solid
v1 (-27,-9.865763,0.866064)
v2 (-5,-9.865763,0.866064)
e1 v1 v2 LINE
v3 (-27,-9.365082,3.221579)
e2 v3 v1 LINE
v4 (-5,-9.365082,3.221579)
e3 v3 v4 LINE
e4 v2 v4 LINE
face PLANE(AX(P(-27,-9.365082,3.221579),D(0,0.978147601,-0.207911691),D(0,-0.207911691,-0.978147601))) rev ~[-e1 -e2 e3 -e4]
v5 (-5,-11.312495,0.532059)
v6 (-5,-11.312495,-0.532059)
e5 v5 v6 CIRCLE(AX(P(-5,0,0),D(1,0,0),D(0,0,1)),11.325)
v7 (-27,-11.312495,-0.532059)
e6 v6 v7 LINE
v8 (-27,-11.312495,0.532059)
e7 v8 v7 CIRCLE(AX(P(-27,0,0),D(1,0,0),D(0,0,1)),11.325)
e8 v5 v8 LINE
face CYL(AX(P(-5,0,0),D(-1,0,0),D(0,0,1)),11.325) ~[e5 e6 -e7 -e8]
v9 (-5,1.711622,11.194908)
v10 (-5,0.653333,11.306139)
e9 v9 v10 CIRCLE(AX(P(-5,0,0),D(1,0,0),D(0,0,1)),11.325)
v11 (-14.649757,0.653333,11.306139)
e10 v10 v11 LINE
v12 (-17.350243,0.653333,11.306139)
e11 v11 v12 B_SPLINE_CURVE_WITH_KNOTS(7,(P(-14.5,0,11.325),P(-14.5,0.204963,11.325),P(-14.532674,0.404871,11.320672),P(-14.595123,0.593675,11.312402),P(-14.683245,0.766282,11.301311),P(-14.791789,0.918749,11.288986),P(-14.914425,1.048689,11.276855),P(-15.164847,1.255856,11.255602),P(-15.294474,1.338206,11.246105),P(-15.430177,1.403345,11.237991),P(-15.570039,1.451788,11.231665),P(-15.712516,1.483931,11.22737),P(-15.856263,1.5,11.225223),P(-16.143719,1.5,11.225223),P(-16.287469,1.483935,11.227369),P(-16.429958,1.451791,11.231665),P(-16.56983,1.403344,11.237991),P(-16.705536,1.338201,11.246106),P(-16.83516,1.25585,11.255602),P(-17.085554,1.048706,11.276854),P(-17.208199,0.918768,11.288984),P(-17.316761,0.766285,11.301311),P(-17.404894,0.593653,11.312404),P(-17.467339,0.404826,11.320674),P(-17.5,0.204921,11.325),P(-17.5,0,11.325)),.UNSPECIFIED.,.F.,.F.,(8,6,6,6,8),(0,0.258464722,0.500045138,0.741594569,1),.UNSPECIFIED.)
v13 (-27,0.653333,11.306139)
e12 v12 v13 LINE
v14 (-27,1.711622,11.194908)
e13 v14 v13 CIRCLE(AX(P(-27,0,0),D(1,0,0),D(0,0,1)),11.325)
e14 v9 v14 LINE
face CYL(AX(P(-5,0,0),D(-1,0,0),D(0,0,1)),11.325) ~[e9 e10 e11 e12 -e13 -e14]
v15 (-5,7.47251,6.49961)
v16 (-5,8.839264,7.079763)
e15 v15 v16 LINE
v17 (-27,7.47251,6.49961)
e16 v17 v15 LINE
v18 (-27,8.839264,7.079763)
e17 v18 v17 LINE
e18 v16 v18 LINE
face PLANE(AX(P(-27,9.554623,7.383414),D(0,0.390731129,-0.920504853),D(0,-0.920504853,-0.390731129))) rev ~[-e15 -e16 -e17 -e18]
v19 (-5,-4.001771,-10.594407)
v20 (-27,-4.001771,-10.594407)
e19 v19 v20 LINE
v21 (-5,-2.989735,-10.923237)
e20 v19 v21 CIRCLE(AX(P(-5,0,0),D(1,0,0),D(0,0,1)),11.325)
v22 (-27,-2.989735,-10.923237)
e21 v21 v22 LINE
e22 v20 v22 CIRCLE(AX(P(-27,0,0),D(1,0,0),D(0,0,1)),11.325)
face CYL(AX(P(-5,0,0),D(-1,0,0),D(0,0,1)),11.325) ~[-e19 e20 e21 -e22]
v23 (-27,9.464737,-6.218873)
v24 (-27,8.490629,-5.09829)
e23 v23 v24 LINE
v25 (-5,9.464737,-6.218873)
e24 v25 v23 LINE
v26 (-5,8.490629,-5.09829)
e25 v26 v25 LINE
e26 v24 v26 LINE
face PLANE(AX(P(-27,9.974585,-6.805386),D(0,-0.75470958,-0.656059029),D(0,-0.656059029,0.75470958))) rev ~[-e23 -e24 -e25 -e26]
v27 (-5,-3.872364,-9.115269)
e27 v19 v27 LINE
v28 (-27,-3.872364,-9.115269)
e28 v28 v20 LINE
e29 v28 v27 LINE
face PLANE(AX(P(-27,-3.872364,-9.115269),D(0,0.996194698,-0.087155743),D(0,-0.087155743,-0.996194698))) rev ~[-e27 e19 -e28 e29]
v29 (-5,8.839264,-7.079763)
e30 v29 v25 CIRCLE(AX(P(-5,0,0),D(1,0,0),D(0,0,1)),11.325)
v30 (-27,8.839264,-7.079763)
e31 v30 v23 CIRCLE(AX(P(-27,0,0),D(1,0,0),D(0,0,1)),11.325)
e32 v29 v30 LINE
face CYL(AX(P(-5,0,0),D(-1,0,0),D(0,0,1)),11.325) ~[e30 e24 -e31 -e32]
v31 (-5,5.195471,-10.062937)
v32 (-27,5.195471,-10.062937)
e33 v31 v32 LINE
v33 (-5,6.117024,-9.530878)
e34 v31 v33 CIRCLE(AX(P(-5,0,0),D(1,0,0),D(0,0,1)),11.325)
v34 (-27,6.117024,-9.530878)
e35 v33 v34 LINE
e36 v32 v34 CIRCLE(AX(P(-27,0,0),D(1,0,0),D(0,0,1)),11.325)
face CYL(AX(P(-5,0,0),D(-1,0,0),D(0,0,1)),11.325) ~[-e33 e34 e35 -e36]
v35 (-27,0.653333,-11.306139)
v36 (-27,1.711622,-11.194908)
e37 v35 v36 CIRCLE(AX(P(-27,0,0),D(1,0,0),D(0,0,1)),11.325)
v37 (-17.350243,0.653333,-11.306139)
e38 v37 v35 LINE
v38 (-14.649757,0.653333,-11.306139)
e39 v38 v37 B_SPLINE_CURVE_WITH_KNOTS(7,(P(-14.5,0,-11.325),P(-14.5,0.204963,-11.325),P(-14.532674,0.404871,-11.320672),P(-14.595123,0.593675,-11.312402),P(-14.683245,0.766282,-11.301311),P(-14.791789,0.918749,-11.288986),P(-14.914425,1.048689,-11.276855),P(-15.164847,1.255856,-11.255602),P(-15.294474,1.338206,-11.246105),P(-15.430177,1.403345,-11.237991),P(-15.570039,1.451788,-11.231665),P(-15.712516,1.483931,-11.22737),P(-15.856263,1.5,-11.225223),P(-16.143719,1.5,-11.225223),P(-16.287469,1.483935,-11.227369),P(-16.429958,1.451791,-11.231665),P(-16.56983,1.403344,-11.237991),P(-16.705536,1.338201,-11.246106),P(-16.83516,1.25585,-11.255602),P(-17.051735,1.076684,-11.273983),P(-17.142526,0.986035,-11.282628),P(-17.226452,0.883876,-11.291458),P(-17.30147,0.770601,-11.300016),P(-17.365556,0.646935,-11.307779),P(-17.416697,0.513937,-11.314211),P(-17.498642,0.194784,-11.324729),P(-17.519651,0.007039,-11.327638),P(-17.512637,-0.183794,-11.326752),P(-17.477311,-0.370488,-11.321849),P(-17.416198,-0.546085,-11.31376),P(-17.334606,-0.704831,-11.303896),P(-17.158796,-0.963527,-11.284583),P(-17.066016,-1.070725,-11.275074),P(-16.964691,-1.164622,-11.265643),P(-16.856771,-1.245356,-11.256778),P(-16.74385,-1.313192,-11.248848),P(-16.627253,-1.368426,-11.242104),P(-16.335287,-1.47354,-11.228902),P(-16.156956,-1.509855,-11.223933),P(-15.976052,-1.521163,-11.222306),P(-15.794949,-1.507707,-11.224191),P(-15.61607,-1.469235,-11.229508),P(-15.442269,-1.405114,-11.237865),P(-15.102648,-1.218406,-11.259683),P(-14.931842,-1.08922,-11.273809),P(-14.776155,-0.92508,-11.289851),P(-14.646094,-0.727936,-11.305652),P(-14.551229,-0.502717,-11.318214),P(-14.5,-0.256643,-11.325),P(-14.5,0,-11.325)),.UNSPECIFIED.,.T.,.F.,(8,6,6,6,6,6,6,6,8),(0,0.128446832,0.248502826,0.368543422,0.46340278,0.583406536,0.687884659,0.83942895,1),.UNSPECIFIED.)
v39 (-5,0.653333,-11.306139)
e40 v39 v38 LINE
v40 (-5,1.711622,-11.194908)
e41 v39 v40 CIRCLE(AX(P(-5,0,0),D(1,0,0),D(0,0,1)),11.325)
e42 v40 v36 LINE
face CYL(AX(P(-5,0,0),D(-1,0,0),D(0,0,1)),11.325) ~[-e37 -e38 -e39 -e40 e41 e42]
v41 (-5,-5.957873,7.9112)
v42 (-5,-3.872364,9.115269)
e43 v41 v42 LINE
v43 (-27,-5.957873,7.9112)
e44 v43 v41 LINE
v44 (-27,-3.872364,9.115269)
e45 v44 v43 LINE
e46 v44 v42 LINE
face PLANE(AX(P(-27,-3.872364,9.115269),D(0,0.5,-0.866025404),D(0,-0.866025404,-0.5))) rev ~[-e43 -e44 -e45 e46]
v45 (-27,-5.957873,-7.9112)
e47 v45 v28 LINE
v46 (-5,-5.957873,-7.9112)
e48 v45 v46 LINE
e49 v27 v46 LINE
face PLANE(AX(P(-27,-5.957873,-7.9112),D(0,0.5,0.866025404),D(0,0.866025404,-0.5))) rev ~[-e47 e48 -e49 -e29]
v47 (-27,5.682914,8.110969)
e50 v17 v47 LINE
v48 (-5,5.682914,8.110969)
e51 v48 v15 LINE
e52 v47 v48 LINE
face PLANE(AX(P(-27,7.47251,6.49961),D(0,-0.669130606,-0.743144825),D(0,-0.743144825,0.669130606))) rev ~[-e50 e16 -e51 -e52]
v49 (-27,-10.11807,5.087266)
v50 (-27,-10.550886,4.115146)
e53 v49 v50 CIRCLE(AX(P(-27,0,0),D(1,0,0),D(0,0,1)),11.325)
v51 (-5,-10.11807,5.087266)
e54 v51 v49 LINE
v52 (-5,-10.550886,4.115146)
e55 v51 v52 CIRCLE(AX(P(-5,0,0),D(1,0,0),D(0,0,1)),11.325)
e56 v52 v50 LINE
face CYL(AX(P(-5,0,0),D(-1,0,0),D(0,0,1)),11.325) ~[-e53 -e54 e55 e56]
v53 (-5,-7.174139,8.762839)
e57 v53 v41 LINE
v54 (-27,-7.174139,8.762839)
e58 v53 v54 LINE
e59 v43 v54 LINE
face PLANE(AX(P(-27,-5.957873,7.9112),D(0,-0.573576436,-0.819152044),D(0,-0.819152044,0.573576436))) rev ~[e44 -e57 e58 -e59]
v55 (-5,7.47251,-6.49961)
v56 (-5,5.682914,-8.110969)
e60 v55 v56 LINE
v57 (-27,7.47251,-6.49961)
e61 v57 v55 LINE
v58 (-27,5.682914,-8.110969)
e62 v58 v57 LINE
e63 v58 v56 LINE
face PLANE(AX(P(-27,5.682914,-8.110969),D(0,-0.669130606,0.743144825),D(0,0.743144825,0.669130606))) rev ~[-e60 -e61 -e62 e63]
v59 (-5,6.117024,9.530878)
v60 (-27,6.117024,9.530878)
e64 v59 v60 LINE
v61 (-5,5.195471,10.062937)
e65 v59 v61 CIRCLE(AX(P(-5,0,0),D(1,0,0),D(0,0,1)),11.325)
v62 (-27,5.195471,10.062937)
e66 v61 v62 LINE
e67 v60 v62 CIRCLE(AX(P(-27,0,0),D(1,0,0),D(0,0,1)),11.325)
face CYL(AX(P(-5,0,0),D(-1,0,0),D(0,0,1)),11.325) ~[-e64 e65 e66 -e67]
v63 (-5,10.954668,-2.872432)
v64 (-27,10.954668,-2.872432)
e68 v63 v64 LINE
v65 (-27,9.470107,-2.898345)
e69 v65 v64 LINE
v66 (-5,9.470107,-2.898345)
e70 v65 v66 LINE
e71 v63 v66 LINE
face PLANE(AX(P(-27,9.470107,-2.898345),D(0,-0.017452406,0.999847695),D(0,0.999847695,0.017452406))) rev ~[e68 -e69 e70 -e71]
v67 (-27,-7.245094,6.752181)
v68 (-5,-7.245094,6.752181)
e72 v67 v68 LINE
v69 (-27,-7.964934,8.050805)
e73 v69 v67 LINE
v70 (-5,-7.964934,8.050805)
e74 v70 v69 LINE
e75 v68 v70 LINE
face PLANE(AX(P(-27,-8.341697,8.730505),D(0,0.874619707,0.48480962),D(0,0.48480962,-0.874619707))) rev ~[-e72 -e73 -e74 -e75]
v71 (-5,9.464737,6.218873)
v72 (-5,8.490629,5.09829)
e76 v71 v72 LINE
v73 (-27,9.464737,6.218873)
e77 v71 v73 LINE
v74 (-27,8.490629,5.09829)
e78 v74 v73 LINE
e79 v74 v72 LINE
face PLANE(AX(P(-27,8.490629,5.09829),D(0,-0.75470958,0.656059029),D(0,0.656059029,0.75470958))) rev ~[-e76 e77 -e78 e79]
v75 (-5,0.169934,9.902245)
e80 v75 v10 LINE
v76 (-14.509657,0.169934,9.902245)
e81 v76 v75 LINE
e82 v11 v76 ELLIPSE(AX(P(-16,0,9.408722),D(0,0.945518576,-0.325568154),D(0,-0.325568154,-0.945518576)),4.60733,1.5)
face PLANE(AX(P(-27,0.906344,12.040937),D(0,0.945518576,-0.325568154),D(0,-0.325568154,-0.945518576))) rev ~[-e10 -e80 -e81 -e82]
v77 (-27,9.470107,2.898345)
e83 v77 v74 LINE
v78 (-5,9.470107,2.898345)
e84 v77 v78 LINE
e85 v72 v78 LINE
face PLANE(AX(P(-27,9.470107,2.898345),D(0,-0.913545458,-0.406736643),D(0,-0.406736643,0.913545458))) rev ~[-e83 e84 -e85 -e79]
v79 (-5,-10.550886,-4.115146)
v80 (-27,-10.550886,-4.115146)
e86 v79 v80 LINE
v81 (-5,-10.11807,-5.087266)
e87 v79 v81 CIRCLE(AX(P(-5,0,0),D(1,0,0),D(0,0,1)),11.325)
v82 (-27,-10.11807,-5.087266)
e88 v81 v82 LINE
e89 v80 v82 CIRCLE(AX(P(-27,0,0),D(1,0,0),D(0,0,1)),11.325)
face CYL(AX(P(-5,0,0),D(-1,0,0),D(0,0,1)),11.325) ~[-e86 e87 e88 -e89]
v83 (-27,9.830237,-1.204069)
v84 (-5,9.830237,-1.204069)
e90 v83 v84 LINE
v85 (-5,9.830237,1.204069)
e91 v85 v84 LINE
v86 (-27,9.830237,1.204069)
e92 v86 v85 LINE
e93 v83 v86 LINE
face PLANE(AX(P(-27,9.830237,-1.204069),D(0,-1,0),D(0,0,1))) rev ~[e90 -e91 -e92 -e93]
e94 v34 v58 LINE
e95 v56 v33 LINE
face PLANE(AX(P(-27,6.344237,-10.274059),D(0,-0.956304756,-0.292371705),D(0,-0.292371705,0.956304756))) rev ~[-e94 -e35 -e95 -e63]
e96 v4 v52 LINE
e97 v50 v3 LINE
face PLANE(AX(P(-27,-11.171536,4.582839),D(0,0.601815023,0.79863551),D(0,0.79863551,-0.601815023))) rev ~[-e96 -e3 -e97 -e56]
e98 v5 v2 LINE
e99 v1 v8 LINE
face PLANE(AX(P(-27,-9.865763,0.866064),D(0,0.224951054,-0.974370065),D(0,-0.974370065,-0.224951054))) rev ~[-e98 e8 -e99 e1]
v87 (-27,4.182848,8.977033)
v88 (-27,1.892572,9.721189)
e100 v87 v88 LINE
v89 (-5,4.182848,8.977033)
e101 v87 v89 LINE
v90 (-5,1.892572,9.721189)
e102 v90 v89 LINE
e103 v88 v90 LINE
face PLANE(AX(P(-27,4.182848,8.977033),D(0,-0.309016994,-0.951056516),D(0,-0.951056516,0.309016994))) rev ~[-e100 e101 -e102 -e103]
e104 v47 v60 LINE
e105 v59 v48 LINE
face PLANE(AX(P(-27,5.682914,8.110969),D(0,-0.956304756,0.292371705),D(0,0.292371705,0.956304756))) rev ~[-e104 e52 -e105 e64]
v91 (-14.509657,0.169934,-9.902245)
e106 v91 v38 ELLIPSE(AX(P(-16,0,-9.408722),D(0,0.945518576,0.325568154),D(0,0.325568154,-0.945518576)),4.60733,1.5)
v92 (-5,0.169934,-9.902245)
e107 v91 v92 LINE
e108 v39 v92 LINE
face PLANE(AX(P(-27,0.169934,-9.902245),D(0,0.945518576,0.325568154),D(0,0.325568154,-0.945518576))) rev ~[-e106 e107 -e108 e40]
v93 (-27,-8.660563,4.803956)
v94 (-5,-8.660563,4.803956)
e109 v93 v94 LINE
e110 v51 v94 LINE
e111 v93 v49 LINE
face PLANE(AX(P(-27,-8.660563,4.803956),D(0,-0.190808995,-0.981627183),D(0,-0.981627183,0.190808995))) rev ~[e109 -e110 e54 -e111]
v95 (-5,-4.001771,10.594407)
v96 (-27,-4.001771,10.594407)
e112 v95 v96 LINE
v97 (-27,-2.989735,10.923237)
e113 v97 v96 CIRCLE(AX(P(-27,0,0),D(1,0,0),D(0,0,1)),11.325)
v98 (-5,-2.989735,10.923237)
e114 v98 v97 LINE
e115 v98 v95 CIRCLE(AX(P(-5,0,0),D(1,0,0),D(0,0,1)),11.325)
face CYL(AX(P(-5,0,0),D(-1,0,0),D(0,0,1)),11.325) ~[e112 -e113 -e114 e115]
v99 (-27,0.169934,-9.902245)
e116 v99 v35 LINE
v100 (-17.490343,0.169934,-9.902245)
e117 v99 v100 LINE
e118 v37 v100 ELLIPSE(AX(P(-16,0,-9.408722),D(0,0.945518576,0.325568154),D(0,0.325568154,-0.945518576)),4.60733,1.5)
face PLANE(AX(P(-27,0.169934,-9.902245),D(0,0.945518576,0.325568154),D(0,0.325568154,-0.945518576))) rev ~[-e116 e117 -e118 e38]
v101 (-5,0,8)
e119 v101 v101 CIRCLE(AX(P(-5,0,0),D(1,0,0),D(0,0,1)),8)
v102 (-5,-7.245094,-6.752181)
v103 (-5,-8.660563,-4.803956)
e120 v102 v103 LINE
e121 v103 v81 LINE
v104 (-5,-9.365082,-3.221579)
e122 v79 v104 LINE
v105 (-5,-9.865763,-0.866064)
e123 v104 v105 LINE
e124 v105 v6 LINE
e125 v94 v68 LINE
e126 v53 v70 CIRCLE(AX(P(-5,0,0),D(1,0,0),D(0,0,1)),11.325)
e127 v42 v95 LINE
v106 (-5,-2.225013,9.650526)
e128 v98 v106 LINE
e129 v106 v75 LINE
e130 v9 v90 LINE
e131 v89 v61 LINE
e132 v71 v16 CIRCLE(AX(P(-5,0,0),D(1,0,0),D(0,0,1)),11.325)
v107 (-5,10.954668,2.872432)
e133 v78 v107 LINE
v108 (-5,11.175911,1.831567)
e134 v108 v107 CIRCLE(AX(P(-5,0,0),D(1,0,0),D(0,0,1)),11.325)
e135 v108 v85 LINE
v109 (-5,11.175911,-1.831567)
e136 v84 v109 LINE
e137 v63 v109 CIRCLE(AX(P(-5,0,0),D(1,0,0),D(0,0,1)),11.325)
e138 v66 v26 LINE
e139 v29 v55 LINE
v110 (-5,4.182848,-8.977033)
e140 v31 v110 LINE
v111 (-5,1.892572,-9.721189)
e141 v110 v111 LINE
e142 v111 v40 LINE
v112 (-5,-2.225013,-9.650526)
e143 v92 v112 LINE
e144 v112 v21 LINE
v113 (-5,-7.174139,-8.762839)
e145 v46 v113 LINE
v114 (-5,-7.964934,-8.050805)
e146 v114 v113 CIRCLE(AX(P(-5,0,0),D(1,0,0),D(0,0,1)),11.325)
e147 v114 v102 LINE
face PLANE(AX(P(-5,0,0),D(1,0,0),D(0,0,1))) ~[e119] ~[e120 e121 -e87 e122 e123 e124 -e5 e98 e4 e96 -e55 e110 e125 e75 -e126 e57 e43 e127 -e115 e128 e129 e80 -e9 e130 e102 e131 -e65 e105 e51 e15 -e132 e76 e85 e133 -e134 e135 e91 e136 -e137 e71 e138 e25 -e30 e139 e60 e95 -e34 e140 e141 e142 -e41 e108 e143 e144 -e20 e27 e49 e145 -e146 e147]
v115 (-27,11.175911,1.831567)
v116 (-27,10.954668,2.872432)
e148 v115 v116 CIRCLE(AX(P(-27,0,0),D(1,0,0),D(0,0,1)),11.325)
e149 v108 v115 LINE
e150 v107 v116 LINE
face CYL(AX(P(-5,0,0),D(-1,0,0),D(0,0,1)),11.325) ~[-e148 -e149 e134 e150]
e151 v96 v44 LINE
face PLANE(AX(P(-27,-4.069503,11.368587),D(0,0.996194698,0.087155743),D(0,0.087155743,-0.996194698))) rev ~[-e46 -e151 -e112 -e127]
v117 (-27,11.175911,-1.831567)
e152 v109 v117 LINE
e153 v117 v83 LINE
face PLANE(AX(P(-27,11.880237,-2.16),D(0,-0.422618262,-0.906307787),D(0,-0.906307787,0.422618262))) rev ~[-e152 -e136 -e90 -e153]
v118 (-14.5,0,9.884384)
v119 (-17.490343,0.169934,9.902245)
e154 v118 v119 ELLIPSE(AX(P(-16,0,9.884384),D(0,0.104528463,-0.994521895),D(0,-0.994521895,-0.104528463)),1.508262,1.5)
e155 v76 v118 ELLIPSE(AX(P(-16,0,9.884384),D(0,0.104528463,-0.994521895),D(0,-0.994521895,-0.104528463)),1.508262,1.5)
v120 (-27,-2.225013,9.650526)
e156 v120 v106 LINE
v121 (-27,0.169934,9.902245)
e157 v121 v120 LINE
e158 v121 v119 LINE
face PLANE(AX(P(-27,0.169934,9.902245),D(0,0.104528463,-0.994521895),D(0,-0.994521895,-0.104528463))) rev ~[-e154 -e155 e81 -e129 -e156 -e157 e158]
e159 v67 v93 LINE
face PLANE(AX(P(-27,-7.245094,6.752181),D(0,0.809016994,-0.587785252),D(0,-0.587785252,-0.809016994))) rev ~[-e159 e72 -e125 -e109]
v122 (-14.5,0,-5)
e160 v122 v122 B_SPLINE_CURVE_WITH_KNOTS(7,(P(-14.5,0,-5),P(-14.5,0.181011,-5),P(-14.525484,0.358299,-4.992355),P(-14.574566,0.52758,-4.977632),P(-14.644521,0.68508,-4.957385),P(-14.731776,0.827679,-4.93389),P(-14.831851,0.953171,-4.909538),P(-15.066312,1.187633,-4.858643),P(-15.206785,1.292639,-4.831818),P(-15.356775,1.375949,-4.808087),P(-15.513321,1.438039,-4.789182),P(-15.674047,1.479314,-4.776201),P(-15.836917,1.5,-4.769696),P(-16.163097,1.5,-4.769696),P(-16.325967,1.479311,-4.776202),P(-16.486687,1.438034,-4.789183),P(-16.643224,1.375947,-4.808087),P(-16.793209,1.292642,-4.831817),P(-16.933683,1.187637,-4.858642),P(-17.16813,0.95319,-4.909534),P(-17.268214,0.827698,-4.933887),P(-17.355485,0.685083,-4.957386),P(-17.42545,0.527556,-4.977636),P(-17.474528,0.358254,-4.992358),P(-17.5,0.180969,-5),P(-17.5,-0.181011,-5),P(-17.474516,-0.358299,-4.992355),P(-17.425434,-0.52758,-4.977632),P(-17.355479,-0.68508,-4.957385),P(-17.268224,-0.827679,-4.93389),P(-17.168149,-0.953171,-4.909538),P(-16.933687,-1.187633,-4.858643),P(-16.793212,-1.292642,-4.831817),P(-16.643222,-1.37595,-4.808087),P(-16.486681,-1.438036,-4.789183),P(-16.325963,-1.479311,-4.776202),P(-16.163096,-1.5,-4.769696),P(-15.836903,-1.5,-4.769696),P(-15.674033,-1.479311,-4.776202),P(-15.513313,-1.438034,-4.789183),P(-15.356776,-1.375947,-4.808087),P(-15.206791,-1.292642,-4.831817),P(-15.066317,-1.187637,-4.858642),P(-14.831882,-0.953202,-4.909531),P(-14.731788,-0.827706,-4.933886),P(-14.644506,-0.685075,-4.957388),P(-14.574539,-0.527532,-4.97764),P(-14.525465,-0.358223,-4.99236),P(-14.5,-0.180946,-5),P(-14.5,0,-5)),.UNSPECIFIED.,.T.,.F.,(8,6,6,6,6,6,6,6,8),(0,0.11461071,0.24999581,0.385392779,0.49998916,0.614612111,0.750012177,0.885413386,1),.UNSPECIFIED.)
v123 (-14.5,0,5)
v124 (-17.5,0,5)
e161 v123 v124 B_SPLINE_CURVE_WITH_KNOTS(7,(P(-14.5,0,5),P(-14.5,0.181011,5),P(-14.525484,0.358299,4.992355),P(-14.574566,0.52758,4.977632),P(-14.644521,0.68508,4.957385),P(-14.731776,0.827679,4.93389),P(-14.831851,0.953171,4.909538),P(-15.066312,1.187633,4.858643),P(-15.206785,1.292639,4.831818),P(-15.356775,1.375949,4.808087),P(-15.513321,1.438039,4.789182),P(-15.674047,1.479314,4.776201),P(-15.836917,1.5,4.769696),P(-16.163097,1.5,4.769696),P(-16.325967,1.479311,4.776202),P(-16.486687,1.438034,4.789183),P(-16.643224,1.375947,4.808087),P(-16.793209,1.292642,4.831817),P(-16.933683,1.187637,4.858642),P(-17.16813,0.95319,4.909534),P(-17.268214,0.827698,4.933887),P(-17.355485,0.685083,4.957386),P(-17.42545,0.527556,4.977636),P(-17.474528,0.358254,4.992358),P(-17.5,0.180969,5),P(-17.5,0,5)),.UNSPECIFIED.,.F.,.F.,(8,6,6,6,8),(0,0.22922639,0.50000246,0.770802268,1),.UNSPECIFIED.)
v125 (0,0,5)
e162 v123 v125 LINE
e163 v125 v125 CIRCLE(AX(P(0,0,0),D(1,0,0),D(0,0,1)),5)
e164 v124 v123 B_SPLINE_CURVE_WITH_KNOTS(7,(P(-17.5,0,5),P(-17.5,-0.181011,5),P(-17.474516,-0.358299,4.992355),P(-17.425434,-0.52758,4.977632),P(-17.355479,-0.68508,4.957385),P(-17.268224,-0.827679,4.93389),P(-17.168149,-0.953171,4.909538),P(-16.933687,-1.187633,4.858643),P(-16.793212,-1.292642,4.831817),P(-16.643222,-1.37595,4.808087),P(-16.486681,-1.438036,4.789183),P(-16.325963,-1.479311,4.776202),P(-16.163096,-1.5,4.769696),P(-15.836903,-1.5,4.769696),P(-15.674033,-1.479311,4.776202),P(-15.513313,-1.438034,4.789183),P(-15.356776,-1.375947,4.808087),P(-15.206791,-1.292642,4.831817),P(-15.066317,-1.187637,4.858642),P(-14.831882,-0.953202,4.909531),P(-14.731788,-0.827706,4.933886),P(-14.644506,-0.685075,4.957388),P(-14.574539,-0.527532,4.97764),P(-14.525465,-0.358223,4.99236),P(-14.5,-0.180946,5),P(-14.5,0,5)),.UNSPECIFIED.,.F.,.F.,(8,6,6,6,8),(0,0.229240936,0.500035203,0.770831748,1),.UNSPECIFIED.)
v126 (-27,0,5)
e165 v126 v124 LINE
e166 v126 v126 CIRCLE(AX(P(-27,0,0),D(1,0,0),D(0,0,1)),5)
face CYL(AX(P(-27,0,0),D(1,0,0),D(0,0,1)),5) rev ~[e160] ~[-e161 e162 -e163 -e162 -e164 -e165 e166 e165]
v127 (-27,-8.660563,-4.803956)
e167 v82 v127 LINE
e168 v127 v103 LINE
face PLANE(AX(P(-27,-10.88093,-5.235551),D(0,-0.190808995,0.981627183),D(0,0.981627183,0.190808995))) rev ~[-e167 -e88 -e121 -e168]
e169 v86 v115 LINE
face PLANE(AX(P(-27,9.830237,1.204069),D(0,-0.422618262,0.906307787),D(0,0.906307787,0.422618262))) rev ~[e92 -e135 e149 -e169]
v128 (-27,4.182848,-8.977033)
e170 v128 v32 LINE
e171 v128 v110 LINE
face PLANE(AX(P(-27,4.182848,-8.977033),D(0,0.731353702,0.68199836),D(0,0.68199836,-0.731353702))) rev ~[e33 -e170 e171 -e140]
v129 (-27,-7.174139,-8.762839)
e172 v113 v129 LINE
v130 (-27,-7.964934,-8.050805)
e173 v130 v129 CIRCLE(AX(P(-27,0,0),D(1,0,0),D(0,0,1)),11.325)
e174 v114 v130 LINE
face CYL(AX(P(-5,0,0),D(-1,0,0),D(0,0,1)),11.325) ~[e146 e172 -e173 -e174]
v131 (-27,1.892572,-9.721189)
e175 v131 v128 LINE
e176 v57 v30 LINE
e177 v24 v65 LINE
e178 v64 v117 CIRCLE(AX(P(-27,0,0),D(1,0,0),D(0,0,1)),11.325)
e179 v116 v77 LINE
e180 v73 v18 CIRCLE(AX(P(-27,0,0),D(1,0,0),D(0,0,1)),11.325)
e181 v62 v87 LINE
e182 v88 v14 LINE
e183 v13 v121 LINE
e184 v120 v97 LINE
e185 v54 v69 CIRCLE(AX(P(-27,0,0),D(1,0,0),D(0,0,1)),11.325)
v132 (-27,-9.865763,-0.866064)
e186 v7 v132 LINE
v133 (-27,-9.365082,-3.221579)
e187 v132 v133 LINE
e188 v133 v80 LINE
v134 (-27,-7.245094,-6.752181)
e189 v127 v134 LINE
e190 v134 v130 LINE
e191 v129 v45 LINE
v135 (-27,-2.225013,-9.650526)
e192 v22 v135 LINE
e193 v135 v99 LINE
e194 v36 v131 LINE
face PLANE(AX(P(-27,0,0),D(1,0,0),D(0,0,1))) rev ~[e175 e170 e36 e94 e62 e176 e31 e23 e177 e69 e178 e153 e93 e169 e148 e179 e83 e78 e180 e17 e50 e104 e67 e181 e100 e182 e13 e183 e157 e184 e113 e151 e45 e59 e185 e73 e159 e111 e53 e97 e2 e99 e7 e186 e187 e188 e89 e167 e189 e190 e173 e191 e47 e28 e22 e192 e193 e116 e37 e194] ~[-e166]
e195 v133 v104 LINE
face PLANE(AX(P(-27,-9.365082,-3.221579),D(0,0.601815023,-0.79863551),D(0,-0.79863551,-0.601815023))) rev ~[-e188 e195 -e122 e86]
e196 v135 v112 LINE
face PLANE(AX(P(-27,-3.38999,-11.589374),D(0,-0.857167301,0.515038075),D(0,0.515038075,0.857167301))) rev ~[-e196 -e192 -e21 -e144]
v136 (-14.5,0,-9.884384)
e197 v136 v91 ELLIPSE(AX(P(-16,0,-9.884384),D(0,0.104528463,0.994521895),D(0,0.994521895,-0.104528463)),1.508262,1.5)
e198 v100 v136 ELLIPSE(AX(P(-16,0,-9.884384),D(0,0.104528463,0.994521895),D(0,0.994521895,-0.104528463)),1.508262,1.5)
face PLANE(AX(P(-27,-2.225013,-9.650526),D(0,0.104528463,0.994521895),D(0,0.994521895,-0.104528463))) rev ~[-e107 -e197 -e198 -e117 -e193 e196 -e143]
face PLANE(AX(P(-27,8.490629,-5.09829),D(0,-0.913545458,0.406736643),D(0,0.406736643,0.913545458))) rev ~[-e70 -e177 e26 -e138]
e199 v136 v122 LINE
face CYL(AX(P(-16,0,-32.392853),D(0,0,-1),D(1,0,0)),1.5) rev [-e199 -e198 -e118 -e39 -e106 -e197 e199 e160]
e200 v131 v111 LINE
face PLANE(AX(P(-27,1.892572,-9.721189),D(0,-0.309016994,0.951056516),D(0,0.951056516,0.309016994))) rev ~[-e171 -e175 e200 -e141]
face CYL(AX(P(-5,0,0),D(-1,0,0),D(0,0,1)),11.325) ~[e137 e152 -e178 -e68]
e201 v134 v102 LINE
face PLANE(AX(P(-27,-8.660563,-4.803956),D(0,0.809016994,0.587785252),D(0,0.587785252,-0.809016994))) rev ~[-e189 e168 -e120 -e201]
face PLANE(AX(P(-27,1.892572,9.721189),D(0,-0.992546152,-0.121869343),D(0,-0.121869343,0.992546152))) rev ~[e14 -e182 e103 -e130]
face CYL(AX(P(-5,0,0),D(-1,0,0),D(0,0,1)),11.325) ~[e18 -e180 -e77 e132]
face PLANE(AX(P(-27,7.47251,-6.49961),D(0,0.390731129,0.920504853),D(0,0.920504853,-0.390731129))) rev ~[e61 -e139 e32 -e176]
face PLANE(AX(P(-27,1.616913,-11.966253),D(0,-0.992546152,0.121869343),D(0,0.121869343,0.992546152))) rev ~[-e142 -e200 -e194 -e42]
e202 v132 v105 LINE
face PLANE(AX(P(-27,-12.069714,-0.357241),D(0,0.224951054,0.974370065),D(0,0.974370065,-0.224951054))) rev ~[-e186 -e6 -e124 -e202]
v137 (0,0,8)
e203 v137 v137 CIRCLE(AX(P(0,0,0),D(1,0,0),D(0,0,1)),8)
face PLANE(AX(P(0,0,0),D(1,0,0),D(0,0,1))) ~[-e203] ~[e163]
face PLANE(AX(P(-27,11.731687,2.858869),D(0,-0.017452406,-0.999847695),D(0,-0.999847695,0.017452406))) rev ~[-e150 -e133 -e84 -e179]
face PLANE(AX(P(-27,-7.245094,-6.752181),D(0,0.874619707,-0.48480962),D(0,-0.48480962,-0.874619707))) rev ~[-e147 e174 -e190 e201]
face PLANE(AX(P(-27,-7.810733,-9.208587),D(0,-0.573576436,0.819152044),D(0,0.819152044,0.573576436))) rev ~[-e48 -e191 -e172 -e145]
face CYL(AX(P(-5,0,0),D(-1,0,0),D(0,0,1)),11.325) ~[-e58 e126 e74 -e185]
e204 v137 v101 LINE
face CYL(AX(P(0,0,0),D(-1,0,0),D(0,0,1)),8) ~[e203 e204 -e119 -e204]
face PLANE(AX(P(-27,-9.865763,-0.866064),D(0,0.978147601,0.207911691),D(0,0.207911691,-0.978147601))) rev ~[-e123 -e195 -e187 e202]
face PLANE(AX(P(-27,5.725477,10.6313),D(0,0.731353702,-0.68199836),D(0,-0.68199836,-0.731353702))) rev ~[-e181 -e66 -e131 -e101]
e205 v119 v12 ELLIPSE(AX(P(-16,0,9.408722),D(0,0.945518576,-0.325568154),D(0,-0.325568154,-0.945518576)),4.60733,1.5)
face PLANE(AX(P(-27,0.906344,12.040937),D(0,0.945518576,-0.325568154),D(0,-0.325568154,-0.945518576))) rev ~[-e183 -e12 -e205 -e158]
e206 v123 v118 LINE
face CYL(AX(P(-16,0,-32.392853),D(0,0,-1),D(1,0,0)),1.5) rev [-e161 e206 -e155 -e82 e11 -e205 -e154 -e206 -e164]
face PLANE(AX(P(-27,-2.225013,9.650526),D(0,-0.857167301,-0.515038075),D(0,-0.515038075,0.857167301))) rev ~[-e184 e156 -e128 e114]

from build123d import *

# Parameters (mm, degrees)
ENL_V_MAT_EXTRU_1_DEPTH      = 32.392853486
ENL_V_MAT_EXTRU_1_DEPTH_BACK = 32.392853486
ESQUISSE2_R                  = 1.5
ENL_V_MAT_EXTRU_2_REACH      = 33.393
R_P_TITION_CIRCULAIRE1_COUNT = 15


with BuildPart() as part:
    # Esquisse1 → Révolution1 (revolve)
    with BuildSketch(Plane.XY, mode=Mode.PRIVATE) as r_volution1_sk:
        Polygon((0, 5), (0, 8), (-5, 8), (-5, 11.325), (-27, 11.325), (-27, 5), align=None)
    revolve(r_volution1_sk.sketch.rotate(Axis((-12.25475793, 0, 0), (1, 0, 0)), 90), axis=Axis((-12.25475793, 0, 0), (1, 0, 0)))

    # Esquisse2 → Enlèv. mat.-Extru.1 (cut, two sides: drawn at the far end of the back side and taken through both)
    with BuildSketch(Plane.XY.offset(-ENL_V_MAT_EXTRU_1_DEPTH_BACK)):
        with Locations((-16, 0)):
            Circle(ESQUISSE2_R)
    extrude(amount=ENL_V_MAT_EXTRU_1_DEPTH + ENL_V_MAT_EXTRU_1_DEPTH_BACK, mode=Mode.SUBTRACT)

    # Esquisse3 → Enlèv. mat.-Extru.2 (cut, up to next)
    with BuildSketch(Plane.ZY.offset(27), mode=Mode.PRIVATE) as enl_v_mat_extru_2_sk1:
        with BuildLine():
            Line((-2.16, 11.88023674), (-1.204069301, 9.83023674))
            Line((-1.204069301, 9.83023674), (1.204069301, 9.83023674))
            Line((1.204069301, 9.83023674), (2.16, 11.88023674))
            ThreePointArc((2.16, 11.88023674), (0, 12.075), (-2.16, 11.88023674))
        make_face()
    enl_v_mat_extru_2_tool1 = extrude(enl_v_mat_extru_2_sk1.sketch, amount=-ENL_V_MAT_EXTRU_2_REACH, mode=Mode.PRIVATE) & part.part
    enl_v_mat_extru_2 = enl_v_mat_extru_2_tool1.solids().sort_by_distance((-27, 11.028097, 0))[0]
    add(enl_v_mat_extru_2, mode=Mode.SUBTRACT)

    # Répétition circulaire1: Enlèv. mat.-Extru.2 ×15 about axis
    r_p_tition_circulaire1_axis = Axis((0, 0, 0), (1, 0, 0))
    for i in range(1, R_P_TITION_CIRCULAIRE1_COUNT):
        add(enl_v_mat_extru_2.rotate(r_p_tition_circulaire1_axis, i * 360 / R_P_TITION_CIRCULAIRE1_COUNT), mode=Mode.SUBTRACT)


solid = part.part
